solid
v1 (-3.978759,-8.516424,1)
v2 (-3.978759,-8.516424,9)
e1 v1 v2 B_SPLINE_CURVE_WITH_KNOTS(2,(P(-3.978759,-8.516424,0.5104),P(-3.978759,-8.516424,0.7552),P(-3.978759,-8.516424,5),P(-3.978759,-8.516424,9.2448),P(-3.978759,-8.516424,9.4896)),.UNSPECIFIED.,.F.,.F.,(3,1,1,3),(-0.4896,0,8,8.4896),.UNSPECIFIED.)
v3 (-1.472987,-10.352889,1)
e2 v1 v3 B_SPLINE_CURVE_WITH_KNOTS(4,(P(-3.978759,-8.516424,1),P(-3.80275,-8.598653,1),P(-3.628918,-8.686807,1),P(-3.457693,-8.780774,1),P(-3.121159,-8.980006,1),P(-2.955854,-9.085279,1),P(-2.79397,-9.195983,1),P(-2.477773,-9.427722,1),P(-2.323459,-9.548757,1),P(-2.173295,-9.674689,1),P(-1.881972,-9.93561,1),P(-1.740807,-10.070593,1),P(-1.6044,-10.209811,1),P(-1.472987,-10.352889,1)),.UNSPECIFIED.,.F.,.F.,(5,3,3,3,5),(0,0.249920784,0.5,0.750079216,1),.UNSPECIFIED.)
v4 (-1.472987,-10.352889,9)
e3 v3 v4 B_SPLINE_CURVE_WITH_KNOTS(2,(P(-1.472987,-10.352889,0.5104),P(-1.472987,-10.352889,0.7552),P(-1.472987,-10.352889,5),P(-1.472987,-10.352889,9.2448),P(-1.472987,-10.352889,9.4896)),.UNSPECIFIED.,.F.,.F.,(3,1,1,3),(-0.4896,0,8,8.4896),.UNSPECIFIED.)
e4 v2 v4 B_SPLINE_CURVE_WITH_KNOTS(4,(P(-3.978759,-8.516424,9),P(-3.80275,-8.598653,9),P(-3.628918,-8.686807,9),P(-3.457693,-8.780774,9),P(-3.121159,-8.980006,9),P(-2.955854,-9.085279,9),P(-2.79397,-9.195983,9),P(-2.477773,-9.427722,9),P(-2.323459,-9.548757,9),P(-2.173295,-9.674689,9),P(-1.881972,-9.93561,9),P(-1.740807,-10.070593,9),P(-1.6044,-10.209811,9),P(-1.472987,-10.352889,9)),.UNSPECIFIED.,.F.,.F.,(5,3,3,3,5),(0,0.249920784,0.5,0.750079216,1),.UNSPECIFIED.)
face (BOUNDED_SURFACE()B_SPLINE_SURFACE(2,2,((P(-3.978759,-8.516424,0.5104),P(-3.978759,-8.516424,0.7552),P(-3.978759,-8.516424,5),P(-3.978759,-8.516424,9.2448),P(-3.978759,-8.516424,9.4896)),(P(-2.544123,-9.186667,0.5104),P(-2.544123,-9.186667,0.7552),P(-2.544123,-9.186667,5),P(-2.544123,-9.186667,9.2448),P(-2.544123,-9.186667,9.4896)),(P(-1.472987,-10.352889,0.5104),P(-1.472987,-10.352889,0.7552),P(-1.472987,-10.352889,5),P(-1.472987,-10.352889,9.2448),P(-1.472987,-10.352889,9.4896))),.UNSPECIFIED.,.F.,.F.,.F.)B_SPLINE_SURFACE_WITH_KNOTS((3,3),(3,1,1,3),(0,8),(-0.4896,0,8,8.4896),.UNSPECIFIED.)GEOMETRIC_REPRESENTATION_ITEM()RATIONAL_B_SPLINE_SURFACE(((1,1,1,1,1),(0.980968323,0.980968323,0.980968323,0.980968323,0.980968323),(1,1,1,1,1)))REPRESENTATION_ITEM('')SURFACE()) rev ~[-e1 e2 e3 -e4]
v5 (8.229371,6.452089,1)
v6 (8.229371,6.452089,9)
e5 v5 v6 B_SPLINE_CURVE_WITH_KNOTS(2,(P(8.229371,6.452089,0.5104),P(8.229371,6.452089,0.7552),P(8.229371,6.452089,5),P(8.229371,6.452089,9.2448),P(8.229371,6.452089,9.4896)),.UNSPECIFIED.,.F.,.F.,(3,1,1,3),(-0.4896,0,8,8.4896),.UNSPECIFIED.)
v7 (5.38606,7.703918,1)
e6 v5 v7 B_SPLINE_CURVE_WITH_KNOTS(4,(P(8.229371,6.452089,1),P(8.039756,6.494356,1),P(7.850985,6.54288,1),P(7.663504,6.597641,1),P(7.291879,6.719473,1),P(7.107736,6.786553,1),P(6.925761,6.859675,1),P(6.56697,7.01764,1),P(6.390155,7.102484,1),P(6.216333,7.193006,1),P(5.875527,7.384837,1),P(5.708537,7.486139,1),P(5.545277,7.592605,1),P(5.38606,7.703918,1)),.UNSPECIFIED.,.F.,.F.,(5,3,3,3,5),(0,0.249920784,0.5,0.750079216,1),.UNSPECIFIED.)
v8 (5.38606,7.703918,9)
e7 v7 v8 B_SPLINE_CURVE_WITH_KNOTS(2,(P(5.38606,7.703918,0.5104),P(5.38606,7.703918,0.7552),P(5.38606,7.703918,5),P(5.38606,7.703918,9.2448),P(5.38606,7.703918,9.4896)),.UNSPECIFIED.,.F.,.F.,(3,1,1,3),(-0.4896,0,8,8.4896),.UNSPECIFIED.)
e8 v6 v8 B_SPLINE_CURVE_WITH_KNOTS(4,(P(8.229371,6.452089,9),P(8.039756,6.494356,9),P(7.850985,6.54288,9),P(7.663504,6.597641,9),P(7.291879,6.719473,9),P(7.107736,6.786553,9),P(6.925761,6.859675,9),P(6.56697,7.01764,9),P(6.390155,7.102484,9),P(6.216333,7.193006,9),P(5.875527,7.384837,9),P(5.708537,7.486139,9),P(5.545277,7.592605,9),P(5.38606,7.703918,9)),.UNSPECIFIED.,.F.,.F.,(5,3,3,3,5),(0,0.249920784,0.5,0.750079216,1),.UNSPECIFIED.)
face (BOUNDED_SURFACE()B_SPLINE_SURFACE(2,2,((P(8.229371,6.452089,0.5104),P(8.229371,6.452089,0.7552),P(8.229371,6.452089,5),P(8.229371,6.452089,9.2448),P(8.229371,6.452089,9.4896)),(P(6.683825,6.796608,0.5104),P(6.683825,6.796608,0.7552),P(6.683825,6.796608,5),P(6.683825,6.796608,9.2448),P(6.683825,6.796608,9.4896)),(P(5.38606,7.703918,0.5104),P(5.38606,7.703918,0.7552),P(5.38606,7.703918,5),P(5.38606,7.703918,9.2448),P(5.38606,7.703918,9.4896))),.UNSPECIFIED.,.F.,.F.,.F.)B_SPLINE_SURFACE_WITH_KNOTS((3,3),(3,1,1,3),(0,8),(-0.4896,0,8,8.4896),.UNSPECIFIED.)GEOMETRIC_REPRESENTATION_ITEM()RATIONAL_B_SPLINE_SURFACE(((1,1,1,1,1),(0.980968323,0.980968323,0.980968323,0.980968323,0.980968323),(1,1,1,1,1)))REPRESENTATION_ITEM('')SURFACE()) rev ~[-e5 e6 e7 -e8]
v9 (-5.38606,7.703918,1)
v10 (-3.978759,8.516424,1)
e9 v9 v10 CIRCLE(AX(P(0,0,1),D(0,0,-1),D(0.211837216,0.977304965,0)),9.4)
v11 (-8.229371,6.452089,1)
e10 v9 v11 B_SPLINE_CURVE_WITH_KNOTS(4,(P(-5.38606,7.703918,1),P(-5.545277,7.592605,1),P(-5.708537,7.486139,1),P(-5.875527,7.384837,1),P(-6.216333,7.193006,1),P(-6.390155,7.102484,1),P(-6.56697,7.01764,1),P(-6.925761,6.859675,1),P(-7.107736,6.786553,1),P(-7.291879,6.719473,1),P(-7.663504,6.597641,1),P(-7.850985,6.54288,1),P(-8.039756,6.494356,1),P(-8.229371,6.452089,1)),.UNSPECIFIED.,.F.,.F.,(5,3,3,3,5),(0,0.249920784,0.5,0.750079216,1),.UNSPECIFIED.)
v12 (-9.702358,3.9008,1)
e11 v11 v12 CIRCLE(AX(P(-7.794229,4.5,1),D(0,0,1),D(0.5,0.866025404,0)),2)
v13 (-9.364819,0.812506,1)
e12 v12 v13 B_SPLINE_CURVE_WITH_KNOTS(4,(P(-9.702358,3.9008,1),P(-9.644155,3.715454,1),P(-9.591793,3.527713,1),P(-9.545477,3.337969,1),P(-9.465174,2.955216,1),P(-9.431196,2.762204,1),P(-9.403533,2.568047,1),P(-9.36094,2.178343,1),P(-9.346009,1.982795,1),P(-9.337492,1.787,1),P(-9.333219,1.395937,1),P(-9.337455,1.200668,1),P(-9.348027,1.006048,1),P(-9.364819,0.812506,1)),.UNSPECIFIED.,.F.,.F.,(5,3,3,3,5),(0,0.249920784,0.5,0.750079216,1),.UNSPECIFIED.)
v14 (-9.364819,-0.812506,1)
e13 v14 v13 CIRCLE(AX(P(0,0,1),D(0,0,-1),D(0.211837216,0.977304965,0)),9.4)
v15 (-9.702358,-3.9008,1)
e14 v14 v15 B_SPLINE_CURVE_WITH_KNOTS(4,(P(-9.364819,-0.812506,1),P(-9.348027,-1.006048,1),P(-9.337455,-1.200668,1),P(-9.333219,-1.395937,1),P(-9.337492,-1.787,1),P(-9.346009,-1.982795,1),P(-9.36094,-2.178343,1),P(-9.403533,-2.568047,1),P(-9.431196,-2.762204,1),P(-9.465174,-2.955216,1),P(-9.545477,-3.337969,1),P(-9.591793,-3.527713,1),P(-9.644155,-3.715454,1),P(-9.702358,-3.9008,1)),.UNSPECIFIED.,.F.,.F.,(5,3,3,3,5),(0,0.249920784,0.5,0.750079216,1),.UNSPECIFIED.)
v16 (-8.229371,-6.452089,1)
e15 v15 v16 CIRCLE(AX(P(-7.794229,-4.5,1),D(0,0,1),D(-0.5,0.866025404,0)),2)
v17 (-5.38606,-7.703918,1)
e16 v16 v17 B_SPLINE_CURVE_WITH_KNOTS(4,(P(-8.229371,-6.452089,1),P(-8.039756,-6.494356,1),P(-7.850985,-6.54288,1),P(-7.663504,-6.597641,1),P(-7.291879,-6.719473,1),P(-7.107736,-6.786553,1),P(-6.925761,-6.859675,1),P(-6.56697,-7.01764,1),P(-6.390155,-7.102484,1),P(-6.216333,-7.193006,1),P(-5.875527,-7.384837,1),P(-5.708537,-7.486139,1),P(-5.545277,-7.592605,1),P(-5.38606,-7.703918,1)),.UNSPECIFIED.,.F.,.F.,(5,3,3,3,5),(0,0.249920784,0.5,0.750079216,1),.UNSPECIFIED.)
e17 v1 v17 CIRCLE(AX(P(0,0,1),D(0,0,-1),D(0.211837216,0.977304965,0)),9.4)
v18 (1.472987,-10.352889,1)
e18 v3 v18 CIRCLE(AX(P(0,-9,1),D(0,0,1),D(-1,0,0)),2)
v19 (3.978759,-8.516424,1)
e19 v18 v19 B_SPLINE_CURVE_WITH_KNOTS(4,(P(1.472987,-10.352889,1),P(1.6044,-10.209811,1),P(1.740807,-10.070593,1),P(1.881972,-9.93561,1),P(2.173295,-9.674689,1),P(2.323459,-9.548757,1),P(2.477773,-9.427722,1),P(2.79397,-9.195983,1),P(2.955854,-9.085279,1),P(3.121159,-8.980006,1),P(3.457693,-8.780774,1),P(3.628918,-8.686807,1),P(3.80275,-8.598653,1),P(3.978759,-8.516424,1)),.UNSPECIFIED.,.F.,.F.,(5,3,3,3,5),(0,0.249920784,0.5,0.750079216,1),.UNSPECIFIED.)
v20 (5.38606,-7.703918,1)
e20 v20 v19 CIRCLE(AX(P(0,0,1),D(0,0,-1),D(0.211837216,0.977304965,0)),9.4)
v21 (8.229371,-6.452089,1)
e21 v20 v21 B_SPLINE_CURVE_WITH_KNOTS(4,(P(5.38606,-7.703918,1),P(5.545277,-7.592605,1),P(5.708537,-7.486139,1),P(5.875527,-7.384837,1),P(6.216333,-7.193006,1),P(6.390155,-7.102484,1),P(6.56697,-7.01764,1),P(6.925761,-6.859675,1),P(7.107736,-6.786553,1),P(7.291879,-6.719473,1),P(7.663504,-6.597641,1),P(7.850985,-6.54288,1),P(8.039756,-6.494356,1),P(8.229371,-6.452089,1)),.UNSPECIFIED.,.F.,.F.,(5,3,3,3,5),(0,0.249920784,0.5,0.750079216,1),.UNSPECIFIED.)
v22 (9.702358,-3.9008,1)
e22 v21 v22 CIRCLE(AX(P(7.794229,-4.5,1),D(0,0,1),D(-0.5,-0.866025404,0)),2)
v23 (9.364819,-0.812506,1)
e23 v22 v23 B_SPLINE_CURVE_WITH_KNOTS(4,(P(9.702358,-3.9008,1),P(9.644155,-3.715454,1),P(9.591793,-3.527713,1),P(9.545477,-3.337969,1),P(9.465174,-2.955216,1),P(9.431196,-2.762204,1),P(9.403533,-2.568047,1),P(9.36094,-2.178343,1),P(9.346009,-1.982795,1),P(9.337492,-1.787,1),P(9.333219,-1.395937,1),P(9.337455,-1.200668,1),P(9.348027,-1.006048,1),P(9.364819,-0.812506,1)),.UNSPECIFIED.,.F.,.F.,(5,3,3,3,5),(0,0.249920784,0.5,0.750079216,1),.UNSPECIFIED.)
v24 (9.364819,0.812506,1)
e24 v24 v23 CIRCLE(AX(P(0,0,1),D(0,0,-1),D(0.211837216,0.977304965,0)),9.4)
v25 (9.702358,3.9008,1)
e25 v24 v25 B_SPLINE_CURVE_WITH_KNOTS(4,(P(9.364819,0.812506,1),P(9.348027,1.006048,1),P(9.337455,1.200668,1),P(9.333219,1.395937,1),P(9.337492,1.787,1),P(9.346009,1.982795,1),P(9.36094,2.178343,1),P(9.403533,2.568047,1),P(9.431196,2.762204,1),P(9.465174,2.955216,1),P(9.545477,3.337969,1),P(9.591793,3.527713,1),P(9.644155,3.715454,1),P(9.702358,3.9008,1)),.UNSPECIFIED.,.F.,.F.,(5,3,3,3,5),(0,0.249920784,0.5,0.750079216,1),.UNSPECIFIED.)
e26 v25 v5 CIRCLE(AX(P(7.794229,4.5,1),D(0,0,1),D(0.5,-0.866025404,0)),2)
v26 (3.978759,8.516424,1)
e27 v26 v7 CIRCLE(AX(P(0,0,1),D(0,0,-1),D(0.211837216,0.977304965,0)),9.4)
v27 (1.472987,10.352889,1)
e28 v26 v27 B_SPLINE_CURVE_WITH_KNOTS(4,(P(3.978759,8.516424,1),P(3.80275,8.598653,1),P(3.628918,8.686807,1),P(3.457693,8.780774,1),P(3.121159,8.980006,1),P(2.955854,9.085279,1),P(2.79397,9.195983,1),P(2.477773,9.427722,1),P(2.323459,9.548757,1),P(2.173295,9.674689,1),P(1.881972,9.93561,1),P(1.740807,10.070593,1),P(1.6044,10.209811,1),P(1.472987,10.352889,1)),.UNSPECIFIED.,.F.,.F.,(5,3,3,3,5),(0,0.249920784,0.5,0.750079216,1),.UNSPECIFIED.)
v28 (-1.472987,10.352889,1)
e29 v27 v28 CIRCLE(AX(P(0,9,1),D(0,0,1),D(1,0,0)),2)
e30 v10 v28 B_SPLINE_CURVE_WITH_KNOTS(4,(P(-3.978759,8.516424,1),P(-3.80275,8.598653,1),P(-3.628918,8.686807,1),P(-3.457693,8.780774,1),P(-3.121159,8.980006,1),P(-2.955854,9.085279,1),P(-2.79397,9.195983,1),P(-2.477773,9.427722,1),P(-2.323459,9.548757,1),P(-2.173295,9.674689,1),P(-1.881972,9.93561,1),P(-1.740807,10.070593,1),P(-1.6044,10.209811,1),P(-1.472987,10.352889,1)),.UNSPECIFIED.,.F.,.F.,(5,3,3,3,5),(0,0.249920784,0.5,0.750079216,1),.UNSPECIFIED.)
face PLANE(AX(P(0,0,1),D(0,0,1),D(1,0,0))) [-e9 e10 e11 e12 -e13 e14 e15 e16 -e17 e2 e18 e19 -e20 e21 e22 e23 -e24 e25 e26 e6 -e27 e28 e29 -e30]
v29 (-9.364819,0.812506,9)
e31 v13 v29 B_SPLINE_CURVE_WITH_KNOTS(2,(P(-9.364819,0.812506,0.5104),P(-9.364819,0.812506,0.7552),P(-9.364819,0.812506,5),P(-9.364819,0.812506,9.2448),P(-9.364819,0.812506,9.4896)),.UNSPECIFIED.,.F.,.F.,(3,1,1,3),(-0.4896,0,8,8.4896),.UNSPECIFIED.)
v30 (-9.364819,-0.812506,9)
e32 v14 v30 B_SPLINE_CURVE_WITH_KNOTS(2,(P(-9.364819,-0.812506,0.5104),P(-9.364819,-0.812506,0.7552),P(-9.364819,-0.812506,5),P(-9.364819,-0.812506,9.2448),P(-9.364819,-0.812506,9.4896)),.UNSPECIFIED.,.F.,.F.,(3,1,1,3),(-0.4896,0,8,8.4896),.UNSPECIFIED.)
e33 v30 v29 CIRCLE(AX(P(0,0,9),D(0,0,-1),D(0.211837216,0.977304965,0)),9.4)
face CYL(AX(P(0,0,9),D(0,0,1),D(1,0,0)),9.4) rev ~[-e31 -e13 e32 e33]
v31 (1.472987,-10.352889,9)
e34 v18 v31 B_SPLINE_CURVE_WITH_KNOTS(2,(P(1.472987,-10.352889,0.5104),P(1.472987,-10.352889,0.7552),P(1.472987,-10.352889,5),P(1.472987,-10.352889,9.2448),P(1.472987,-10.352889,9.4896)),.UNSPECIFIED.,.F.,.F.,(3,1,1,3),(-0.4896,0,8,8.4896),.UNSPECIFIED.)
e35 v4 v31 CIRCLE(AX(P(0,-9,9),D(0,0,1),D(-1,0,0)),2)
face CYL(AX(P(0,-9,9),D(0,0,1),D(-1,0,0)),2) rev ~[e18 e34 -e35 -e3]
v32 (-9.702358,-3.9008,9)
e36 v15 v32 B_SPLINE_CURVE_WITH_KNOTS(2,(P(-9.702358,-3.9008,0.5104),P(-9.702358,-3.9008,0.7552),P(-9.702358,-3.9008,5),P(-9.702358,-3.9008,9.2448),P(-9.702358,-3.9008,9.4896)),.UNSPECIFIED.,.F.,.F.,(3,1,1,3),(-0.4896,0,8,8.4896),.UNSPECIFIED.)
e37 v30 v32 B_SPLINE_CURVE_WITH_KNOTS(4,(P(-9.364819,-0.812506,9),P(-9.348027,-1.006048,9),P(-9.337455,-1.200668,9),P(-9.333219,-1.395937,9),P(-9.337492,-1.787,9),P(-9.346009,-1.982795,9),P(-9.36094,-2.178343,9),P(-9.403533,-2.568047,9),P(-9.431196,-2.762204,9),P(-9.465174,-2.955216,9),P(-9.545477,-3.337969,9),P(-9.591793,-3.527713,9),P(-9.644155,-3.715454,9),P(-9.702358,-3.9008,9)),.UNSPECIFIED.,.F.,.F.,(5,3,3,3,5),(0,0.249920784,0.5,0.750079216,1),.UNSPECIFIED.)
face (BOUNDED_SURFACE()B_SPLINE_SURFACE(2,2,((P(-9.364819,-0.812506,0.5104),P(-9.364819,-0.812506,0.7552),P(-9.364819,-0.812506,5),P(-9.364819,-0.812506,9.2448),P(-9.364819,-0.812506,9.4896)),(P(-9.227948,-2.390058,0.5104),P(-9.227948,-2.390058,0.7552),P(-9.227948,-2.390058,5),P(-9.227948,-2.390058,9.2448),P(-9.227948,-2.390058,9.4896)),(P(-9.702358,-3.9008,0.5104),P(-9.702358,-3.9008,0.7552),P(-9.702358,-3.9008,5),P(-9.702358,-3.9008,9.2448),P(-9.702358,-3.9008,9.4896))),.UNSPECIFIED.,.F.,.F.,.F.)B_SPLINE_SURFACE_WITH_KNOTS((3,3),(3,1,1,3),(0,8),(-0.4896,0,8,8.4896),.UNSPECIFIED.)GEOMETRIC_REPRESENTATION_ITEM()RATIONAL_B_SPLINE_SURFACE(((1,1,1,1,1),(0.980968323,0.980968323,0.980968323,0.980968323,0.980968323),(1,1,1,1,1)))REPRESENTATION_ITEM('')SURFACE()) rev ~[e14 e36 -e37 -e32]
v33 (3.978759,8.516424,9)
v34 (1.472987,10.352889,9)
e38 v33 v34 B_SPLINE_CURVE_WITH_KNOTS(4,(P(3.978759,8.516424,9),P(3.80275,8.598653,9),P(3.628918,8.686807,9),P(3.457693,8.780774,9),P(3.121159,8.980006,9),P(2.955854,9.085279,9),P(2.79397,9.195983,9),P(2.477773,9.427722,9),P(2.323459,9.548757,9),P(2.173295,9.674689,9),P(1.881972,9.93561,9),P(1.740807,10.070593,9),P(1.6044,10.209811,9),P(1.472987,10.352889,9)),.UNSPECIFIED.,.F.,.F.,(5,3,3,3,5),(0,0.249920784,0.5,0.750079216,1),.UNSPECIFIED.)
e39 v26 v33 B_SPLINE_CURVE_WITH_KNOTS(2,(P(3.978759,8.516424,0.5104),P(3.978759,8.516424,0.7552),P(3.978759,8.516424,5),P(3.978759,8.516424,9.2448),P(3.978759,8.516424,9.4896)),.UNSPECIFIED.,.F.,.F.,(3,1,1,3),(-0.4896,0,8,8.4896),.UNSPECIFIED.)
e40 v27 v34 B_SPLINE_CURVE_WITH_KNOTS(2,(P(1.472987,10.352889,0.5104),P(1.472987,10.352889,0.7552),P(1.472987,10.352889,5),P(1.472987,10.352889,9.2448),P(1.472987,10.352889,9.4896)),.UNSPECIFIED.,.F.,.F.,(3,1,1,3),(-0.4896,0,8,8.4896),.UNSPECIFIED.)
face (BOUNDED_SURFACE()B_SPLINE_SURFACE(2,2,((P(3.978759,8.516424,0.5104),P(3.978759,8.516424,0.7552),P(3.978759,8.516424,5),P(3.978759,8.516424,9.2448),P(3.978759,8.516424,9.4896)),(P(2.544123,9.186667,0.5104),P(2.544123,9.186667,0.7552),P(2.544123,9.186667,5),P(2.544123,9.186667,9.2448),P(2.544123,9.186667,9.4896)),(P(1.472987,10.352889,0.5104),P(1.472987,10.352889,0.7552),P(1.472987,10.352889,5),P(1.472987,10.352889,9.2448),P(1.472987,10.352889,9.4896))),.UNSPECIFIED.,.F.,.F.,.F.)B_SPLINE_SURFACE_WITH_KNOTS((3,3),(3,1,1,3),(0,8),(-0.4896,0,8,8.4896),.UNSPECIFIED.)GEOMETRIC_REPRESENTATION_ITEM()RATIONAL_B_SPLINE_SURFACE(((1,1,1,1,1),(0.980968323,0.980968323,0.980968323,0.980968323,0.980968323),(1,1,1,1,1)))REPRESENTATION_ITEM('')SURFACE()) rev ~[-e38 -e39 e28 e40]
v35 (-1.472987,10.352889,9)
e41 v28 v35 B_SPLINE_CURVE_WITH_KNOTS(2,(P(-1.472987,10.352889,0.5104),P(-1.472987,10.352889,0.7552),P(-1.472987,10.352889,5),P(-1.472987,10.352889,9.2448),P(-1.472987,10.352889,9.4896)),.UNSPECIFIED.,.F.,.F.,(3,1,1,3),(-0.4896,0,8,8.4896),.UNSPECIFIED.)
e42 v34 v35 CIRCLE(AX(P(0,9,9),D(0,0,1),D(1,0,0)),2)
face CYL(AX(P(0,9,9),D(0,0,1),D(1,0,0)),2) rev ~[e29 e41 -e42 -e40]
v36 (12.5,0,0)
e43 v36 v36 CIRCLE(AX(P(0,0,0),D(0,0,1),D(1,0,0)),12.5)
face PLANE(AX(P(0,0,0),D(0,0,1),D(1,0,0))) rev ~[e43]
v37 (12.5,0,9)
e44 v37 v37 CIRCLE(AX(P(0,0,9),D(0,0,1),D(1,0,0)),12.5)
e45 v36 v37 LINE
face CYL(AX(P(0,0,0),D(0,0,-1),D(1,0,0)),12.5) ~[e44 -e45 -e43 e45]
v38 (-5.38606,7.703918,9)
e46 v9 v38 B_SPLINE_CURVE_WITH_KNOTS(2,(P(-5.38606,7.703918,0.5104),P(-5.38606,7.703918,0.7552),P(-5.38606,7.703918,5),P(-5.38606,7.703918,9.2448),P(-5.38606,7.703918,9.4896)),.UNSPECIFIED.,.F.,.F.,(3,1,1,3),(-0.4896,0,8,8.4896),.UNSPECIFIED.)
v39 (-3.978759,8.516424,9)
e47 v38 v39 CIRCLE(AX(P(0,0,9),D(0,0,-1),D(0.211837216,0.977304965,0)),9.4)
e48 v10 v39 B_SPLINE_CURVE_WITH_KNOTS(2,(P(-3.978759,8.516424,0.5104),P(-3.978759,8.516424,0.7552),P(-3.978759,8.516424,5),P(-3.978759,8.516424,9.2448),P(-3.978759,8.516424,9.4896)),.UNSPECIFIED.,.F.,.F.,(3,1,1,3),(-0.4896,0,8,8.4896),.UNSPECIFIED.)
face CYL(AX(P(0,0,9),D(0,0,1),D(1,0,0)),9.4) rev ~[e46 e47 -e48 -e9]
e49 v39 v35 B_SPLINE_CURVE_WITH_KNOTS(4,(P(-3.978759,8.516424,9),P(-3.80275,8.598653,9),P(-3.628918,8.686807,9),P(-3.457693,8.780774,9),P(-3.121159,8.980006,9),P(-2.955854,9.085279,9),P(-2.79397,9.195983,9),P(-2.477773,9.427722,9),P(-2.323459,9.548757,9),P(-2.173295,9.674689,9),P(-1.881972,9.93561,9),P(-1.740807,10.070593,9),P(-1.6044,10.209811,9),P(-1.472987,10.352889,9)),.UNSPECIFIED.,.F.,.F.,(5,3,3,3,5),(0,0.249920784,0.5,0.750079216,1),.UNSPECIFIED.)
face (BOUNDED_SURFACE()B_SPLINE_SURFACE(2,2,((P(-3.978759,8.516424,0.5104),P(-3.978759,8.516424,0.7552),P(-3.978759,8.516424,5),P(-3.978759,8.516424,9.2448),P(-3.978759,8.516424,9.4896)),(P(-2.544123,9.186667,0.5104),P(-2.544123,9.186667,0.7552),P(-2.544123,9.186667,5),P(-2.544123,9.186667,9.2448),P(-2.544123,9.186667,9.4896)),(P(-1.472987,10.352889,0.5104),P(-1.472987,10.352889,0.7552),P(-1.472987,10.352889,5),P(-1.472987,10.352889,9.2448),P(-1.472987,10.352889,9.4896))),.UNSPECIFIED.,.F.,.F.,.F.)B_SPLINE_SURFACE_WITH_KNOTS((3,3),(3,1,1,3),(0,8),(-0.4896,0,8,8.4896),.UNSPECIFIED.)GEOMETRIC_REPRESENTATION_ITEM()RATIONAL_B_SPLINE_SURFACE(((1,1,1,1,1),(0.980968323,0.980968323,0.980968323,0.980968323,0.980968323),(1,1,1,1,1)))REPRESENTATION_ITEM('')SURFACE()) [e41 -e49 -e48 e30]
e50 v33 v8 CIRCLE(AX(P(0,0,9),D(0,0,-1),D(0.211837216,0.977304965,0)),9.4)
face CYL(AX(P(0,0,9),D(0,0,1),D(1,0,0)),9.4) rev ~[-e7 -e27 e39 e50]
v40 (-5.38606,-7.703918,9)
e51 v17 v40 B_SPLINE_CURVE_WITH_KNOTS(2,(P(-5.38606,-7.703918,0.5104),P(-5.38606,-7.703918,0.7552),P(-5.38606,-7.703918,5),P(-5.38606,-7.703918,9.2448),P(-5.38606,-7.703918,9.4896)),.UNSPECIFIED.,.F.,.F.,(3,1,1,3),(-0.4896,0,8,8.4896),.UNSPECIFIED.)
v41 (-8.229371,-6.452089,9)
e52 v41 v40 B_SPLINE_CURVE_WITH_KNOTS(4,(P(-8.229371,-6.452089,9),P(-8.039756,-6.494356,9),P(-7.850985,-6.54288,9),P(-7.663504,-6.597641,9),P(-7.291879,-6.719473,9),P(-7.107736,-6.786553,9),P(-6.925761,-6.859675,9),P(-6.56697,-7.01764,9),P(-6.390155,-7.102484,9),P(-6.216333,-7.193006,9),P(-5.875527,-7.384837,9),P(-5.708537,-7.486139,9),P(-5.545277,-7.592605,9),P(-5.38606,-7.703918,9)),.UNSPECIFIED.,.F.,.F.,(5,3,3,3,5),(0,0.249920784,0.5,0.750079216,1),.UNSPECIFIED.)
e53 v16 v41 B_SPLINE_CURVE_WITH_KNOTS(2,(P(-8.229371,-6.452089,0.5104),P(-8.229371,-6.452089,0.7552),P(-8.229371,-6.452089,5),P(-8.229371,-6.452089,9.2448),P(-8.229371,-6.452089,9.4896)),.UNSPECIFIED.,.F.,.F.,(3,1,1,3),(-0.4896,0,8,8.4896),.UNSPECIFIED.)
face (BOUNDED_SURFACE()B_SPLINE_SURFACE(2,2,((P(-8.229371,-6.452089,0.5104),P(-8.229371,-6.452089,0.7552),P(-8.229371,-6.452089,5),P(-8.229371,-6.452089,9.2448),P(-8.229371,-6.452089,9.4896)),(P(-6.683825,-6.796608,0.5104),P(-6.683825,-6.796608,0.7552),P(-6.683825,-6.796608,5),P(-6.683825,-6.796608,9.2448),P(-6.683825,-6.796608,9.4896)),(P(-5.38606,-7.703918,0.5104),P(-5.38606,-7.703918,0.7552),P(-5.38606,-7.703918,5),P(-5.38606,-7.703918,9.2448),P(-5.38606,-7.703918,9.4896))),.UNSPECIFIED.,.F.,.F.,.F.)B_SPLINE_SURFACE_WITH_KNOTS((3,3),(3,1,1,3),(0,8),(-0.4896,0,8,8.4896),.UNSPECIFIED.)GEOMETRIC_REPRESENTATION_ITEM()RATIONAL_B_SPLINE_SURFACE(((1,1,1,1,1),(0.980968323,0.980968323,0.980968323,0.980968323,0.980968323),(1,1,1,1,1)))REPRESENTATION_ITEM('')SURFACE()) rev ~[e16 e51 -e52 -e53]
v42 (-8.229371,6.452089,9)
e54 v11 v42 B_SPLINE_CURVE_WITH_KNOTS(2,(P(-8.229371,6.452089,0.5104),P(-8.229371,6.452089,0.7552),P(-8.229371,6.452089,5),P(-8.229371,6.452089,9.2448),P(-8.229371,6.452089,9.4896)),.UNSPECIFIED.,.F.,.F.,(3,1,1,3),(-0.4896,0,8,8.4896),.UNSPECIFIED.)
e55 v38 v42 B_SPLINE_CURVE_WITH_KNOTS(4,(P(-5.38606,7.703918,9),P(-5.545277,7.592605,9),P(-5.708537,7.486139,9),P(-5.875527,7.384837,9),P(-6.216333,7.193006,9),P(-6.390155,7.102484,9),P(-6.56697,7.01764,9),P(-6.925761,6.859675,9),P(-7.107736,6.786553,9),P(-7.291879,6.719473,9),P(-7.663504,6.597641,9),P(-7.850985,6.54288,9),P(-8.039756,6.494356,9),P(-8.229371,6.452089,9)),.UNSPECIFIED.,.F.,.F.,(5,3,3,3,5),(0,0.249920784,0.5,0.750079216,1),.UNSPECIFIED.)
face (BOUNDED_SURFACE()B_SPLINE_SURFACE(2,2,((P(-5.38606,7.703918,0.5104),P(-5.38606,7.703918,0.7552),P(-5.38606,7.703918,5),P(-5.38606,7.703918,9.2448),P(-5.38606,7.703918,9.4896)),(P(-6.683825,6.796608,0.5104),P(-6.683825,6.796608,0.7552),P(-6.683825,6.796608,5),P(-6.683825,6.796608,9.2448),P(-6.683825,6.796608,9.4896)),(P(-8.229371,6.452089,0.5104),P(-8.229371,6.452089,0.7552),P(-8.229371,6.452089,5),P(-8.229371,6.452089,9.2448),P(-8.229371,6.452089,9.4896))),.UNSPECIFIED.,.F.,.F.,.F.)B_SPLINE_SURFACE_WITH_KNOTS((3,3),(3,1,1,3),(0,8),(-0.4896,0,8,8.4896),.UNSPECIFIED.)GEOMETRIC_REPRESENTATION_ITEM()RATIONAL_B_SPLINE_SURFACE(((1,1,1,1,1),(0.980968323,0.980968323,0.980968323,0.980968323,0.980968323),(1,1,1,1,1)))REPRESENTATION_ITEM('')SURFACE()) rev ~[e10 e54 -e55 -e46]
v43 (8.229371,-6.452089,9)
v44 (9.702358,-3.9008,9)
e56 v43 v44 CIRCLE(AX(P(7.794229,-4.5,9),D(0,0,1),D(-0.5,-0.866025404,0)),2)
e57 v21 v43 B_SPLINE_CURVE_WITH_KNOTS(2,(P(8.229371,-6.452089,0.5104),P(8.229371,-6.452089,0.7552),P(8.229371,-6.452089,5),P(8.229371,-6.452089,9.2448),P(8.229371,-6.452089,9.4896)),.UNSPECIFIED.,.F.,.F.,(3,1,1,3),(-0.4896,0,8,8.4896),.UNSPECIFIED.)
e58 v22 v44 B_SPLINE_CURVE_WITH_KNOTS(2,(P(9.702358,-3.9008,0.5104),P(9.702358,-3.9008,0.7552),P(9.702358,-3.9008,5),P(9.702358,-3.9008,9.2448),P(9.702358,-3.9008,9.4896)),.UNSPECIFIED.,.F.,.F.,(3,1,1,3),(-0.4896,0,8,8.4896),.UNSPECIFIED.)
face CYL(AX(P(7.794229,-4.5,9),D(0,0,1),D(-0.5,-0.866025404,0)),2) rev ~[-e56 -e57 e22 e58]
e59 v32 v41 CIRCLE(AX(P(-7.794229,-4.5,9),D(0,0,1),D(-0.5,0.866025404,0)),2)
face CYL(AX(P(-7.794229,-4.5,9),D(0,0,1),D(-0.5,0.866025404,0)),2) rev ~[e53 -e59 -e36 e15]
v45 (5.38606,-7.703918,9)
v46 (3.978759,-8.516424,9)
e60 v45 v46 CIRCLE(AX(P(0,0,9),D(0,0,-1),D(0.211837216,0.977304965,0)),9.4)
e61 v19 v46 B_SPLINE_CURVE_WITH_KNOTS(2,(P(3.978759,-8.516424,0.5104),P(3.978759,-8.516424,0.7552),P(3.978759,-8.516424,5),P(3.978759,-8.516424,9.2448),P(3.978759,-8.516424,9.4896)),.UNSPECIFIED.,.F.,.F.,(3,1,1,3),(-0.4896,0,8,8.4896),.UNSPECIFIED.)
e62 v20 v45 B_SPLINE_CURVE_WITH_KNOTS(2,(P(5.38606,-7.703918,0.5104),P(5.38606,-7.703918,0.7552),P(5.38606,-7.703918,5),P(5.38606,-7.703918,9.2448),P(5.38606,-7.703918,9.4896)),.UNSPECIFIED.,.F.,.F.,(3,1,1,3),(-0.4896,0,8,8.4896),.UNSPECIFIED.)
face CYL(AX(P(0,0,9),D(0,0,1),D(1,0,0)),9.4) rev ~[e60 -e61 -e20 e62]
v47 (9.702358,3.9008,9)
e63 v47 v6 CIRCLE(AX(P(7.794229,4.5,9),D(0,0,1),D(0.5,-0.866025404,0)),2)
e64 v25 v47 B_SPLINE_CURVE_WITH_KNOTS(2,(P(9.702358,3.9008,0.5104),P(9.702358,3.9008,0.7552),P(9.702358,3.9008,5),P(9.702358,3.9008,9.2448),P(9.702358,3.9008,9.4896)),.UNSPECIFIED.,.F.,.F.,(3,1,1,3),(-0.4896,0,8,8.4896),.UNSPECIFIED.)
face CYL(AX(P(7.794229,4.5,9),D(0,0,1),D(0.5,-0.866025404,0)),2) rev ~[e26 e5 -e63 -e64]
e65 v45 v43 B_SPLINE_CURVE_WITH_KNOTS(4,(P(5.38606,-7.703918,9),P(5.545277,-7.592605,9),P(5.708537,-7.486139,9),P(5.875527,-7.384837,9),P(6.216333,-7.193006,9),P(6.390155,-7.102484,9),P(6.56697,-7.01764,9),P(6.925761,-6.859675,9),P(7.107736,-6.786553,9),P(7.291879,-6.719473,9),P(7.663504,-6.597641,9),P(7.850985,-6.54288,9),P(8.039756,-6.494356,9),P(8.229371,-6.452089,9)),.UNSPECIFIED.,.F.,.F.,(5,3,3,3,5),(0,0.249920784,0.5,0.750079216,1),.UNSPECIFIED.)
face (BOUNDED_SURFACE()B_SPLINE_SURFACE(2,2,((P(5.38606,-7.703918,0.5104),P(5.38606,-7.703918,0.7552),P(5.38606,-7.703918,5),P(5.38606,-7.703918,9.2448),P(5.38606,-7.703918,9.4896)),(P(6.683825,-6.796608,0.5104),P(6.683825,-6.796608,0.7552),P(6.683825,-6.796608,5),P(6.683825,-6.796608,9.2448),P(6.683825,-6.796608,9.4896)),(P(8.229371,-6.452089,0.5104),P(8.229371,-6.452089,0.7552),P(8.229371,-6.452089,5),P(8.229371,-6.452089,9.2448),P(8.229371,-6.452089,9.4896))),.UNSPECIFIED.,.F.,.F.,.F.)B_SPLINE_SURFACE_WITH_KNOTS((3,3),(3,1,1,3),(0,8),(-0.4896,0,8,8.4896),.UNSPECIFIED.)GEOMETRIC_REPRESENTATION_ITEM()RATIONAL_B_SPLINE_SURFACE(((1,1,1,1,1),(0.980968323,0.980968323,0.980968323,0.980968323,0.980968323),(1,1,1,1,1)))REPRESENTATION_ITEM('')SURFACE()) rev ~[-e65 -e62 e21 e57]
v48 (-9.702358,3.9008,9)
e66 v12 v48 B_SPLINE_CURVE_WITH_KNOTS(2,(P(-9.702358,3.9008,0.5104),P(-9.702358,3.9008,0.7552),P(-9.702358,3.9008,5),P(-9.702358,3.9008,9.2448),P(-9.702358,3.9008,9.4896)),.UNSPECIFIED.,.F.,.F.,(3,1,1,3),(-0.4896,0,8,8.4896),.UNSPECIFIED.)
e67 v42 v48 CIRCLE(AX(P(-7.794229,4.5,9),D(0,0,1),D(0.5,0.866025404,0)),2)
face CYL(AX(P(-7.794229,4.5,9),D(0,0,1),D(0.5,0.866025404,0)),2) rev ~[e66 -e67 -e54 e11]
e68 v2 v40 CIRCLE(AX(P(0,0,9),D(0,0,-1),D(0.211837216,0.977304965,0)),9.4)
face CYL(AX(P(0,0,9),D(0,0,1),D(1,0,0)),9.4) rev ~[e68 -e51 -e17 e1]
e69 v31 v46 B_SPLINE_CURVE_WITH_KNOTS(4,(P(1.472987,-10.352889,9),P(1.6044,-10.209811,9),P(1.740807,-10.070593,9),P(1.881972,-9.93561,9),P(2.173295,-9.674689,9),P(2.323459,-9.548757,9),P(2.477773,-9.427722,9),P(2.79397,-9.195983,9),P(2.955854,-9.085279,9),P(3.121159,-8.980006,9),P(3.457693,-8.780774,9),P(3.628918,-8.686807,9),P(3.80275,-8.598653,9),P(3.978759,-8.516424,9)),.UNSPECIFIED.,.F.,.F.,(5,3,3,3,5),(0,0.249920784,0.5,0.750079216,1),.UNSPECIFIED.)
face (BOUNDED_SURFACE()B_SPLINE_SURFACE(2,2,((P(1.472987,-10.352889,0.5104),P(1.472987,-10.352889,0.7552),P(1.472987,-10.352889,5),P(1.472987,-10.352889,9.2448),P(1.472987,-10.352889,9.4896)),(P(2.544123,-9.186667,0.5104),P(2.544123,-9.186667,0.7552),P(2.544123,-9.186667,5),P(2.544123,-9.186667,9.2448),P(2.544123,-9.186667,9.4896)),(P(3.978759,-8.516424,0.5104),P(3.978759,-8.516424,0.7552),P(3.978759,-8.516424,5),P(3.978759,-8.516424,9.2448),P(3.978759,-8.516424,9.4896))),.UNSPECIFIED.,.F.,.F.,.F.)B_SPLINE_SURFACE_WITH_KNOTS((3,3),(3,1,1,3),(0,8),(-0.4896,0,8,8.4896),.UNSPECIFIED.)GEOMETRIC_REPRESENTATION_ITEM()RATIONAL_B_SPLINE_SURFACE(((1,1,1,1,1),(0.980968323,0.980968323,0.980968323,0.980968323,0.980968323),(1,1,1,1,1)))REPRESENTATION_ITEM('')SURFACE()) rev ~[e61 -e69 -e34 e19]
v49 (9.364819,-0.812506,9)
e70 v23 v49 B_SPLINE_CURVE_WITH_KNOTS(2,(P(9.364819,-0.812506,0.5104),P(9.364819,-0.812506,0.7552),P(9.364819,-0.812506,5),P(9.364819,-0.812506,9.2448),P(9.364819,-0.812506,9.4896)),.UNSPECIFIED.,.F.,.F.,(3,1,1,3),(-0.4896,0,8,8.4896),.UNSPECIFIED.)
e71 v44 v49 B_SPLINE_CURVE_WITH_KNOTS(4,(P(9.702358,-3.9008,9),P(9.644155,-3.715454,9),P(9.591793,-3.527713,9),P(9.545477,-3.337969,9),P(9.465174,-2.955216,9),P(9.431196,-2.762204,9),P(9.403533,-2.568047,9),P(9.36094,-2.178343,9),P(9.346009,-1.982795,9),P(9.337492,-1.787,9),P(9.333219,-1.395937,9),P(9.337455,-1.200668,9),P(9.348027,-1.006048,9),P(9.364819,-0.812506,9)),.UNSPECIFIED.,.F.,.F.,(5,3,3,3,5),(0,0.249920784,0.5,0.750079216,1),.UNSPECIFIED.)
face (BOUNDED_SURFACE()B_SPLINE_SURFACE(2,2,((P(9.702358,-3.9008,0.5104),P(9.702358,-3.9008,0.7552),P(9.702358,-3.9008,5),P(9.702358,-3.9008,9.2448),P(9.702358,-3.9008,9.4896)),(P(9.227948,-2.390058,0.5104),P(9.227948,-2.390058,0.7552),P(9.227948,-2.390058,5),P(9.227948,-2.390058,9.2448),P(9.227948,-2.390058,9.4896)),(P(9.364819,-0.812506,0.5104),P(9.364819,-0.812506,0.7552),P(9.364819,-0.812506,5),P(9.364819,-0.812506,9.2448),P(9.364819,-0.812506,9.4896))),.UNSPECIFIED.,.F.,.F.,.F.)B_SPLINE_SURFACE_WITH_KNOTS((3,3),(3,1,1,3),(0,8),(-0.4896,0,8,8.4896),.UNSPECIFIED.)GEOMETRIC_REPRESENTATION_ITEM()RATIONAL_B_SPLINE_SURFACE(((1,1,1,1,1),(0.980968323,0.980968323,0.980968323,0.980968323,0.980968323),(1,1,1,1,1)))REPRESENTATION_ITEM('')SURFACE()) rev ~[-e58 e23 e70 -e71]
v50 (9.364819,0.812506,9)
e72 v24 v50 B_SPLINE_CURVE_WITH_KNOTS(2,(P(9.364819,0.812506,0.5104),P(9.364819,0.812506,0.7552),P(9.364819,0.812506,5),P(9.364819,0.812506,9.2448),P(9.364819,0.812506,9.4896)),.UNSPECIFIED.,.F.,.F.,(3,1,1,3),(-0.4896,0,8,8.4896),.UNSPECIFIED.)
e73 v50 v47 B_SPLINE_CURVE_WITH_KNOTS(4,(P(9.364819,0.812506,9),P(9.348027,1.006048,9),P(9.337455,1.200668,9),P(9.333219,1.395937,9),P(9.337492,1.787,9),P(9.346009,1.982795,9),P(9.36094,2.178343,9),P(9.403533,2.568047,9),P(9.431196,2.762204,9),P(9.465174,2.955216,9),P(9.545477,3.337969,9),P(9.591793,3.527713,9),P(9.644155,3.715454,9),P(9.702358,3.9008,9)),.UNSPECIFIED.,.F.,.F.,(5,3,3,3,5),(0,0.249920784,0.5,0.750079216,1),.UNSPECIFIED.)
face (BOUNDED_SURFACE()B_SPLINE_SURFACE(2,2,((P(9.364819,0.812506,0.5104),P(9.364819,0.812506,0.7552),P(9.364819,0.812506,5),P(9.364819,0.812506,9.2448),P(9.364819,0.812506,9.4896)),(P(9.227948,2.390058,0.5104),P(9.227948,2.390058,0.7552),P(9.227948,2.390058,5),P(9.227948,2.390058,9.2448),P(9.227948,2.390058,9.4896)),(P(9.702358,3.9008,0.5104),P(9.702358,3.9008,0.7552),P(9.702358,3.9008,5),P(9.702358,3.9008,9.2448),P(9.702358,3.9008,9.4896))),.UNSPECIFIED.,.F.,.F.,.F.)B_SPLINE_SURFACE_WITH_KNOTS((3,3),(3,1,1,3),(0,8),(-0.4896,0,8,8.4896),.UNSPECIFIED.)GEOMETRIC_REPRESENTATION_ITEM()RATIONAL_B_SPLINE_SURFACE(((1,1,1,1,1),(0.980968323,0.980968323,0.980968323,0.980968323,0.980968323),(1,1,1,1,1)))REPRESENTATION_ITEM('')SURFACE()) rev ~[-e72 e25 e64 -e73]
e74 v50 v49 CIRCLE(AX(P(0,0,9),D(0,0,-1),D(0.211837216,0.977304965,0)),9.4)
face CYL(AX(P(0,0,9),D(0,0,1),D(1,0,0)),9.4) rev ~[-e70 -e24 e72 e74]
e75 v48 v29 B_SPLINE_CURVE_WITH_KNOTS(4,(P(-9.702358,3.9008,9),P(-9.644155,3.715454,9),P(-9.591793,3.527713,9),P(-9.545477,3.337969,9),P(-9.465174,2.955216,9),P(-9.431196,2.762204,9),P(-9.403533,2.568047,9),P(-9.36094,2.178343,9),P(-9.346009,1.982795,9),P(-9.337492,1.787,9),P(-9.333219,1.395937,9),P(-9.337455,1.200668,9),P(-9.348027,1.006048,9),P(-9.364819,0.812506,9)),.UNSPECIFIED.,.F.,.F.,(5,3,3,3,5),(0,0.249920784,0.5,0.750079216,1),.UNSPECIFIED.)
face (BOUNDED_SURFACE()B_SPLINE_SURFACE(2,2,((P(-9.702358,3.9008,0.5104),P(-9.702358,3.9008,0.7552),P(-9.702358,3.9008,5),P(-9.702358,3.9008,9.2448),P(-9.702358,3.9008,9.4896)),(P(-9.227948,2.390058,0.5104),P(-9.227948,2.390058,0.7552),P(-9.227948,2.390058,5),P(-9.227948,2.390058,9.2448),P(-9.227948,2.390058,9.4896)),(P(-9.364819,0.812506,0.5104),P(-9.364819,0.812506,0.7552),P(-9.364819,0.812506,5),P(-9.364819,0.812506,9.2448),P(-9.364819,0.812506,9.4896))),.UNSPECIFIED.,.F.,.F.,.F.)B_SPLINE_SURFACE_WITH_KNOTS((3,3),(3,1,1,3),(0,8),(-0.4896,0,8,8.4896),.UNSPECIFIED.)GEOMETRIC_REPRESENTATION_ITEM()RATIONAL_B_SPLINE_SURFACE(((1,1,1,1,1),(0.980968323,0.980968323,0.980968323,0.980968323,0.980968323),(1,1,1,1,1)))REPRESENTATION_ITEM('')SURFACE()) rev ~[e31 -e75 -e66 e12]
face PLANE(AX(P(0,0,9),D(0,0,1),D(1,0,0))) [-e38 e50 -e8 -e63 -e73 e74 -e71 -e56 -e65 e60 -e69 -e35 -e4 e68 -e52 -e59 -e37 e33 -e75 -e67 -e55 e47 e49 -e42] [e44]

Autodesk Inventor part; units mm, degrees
ref_plane "YZ Plane" through (0, 0, 0) normal (1, 0, 0) x (0, 1, 0)
ref_plane "XZ Plane" through (0, 0, 0) normal (0, 1, 0) x (-1, 0, 0)
ref_plane "XY Plane" through (0, 0, 0) normal (0, 0, 1) x (1, 0, 0)
sketch "Sketch6" plane through (0, 0, 0) normal (0, 0, 1) x (1, 0, 0)
  circle A0 centre (0, 0) radius 12.5
  dimension "d29" = 25
extrude "base" add sketch "Sketch6" along normal blind 9
sketch "Sketch8" plane through (0, 0, 9) normal (0, 0, 1) x (1, 0, 0)
  circle A0 centre (0, 0) radius 9.4
  dimension "d39" = 18.8
extrude "Extrusion8" cut sketch "Sketch8" against normal blind 8
sketch "Sketch7" plane through (0, 0, 9) normal (0, 0, 1) x (1, 0, 0)
  line L0 (0, 0) -> (0, 9)
  circle A0 centre (0, 9) radius 2
  dimension "d33" = 9
  dimension "d34" = 4
extrude "ball_place" cut sketch "Sketch7" against normal blind 8
fillet "Fillet5" radius 8 2 edges at (-1.9913, 9.1867, 5) (1.9913, 9.1867, 5)
pattern_circular "Circular Pattern2" count 6 over 360 about axis through (0, 0, 9) along (0, 0, -1) of "ball_place", "Fillet5"
equation "\"BendRadius\" = Thickness"
equation "\"BendReliefWidth\" = Thickness"
equation "\"BendReliefDepth\" = 0.5 * Thickness"
equation "\"CornerReliefSize\" = 4 * Thickness"
equation "\"MinimumRemnant\" = 2 * Thickness"
equation "\"TransitionRadius\" = BendRadius"
equation "\"JacobiRadiusSize\" = BendRadius"
equation "\"GapSize\" = Thickness"
equation "\"Thickness\" = 0.5"
properties part number "embrague_1"
